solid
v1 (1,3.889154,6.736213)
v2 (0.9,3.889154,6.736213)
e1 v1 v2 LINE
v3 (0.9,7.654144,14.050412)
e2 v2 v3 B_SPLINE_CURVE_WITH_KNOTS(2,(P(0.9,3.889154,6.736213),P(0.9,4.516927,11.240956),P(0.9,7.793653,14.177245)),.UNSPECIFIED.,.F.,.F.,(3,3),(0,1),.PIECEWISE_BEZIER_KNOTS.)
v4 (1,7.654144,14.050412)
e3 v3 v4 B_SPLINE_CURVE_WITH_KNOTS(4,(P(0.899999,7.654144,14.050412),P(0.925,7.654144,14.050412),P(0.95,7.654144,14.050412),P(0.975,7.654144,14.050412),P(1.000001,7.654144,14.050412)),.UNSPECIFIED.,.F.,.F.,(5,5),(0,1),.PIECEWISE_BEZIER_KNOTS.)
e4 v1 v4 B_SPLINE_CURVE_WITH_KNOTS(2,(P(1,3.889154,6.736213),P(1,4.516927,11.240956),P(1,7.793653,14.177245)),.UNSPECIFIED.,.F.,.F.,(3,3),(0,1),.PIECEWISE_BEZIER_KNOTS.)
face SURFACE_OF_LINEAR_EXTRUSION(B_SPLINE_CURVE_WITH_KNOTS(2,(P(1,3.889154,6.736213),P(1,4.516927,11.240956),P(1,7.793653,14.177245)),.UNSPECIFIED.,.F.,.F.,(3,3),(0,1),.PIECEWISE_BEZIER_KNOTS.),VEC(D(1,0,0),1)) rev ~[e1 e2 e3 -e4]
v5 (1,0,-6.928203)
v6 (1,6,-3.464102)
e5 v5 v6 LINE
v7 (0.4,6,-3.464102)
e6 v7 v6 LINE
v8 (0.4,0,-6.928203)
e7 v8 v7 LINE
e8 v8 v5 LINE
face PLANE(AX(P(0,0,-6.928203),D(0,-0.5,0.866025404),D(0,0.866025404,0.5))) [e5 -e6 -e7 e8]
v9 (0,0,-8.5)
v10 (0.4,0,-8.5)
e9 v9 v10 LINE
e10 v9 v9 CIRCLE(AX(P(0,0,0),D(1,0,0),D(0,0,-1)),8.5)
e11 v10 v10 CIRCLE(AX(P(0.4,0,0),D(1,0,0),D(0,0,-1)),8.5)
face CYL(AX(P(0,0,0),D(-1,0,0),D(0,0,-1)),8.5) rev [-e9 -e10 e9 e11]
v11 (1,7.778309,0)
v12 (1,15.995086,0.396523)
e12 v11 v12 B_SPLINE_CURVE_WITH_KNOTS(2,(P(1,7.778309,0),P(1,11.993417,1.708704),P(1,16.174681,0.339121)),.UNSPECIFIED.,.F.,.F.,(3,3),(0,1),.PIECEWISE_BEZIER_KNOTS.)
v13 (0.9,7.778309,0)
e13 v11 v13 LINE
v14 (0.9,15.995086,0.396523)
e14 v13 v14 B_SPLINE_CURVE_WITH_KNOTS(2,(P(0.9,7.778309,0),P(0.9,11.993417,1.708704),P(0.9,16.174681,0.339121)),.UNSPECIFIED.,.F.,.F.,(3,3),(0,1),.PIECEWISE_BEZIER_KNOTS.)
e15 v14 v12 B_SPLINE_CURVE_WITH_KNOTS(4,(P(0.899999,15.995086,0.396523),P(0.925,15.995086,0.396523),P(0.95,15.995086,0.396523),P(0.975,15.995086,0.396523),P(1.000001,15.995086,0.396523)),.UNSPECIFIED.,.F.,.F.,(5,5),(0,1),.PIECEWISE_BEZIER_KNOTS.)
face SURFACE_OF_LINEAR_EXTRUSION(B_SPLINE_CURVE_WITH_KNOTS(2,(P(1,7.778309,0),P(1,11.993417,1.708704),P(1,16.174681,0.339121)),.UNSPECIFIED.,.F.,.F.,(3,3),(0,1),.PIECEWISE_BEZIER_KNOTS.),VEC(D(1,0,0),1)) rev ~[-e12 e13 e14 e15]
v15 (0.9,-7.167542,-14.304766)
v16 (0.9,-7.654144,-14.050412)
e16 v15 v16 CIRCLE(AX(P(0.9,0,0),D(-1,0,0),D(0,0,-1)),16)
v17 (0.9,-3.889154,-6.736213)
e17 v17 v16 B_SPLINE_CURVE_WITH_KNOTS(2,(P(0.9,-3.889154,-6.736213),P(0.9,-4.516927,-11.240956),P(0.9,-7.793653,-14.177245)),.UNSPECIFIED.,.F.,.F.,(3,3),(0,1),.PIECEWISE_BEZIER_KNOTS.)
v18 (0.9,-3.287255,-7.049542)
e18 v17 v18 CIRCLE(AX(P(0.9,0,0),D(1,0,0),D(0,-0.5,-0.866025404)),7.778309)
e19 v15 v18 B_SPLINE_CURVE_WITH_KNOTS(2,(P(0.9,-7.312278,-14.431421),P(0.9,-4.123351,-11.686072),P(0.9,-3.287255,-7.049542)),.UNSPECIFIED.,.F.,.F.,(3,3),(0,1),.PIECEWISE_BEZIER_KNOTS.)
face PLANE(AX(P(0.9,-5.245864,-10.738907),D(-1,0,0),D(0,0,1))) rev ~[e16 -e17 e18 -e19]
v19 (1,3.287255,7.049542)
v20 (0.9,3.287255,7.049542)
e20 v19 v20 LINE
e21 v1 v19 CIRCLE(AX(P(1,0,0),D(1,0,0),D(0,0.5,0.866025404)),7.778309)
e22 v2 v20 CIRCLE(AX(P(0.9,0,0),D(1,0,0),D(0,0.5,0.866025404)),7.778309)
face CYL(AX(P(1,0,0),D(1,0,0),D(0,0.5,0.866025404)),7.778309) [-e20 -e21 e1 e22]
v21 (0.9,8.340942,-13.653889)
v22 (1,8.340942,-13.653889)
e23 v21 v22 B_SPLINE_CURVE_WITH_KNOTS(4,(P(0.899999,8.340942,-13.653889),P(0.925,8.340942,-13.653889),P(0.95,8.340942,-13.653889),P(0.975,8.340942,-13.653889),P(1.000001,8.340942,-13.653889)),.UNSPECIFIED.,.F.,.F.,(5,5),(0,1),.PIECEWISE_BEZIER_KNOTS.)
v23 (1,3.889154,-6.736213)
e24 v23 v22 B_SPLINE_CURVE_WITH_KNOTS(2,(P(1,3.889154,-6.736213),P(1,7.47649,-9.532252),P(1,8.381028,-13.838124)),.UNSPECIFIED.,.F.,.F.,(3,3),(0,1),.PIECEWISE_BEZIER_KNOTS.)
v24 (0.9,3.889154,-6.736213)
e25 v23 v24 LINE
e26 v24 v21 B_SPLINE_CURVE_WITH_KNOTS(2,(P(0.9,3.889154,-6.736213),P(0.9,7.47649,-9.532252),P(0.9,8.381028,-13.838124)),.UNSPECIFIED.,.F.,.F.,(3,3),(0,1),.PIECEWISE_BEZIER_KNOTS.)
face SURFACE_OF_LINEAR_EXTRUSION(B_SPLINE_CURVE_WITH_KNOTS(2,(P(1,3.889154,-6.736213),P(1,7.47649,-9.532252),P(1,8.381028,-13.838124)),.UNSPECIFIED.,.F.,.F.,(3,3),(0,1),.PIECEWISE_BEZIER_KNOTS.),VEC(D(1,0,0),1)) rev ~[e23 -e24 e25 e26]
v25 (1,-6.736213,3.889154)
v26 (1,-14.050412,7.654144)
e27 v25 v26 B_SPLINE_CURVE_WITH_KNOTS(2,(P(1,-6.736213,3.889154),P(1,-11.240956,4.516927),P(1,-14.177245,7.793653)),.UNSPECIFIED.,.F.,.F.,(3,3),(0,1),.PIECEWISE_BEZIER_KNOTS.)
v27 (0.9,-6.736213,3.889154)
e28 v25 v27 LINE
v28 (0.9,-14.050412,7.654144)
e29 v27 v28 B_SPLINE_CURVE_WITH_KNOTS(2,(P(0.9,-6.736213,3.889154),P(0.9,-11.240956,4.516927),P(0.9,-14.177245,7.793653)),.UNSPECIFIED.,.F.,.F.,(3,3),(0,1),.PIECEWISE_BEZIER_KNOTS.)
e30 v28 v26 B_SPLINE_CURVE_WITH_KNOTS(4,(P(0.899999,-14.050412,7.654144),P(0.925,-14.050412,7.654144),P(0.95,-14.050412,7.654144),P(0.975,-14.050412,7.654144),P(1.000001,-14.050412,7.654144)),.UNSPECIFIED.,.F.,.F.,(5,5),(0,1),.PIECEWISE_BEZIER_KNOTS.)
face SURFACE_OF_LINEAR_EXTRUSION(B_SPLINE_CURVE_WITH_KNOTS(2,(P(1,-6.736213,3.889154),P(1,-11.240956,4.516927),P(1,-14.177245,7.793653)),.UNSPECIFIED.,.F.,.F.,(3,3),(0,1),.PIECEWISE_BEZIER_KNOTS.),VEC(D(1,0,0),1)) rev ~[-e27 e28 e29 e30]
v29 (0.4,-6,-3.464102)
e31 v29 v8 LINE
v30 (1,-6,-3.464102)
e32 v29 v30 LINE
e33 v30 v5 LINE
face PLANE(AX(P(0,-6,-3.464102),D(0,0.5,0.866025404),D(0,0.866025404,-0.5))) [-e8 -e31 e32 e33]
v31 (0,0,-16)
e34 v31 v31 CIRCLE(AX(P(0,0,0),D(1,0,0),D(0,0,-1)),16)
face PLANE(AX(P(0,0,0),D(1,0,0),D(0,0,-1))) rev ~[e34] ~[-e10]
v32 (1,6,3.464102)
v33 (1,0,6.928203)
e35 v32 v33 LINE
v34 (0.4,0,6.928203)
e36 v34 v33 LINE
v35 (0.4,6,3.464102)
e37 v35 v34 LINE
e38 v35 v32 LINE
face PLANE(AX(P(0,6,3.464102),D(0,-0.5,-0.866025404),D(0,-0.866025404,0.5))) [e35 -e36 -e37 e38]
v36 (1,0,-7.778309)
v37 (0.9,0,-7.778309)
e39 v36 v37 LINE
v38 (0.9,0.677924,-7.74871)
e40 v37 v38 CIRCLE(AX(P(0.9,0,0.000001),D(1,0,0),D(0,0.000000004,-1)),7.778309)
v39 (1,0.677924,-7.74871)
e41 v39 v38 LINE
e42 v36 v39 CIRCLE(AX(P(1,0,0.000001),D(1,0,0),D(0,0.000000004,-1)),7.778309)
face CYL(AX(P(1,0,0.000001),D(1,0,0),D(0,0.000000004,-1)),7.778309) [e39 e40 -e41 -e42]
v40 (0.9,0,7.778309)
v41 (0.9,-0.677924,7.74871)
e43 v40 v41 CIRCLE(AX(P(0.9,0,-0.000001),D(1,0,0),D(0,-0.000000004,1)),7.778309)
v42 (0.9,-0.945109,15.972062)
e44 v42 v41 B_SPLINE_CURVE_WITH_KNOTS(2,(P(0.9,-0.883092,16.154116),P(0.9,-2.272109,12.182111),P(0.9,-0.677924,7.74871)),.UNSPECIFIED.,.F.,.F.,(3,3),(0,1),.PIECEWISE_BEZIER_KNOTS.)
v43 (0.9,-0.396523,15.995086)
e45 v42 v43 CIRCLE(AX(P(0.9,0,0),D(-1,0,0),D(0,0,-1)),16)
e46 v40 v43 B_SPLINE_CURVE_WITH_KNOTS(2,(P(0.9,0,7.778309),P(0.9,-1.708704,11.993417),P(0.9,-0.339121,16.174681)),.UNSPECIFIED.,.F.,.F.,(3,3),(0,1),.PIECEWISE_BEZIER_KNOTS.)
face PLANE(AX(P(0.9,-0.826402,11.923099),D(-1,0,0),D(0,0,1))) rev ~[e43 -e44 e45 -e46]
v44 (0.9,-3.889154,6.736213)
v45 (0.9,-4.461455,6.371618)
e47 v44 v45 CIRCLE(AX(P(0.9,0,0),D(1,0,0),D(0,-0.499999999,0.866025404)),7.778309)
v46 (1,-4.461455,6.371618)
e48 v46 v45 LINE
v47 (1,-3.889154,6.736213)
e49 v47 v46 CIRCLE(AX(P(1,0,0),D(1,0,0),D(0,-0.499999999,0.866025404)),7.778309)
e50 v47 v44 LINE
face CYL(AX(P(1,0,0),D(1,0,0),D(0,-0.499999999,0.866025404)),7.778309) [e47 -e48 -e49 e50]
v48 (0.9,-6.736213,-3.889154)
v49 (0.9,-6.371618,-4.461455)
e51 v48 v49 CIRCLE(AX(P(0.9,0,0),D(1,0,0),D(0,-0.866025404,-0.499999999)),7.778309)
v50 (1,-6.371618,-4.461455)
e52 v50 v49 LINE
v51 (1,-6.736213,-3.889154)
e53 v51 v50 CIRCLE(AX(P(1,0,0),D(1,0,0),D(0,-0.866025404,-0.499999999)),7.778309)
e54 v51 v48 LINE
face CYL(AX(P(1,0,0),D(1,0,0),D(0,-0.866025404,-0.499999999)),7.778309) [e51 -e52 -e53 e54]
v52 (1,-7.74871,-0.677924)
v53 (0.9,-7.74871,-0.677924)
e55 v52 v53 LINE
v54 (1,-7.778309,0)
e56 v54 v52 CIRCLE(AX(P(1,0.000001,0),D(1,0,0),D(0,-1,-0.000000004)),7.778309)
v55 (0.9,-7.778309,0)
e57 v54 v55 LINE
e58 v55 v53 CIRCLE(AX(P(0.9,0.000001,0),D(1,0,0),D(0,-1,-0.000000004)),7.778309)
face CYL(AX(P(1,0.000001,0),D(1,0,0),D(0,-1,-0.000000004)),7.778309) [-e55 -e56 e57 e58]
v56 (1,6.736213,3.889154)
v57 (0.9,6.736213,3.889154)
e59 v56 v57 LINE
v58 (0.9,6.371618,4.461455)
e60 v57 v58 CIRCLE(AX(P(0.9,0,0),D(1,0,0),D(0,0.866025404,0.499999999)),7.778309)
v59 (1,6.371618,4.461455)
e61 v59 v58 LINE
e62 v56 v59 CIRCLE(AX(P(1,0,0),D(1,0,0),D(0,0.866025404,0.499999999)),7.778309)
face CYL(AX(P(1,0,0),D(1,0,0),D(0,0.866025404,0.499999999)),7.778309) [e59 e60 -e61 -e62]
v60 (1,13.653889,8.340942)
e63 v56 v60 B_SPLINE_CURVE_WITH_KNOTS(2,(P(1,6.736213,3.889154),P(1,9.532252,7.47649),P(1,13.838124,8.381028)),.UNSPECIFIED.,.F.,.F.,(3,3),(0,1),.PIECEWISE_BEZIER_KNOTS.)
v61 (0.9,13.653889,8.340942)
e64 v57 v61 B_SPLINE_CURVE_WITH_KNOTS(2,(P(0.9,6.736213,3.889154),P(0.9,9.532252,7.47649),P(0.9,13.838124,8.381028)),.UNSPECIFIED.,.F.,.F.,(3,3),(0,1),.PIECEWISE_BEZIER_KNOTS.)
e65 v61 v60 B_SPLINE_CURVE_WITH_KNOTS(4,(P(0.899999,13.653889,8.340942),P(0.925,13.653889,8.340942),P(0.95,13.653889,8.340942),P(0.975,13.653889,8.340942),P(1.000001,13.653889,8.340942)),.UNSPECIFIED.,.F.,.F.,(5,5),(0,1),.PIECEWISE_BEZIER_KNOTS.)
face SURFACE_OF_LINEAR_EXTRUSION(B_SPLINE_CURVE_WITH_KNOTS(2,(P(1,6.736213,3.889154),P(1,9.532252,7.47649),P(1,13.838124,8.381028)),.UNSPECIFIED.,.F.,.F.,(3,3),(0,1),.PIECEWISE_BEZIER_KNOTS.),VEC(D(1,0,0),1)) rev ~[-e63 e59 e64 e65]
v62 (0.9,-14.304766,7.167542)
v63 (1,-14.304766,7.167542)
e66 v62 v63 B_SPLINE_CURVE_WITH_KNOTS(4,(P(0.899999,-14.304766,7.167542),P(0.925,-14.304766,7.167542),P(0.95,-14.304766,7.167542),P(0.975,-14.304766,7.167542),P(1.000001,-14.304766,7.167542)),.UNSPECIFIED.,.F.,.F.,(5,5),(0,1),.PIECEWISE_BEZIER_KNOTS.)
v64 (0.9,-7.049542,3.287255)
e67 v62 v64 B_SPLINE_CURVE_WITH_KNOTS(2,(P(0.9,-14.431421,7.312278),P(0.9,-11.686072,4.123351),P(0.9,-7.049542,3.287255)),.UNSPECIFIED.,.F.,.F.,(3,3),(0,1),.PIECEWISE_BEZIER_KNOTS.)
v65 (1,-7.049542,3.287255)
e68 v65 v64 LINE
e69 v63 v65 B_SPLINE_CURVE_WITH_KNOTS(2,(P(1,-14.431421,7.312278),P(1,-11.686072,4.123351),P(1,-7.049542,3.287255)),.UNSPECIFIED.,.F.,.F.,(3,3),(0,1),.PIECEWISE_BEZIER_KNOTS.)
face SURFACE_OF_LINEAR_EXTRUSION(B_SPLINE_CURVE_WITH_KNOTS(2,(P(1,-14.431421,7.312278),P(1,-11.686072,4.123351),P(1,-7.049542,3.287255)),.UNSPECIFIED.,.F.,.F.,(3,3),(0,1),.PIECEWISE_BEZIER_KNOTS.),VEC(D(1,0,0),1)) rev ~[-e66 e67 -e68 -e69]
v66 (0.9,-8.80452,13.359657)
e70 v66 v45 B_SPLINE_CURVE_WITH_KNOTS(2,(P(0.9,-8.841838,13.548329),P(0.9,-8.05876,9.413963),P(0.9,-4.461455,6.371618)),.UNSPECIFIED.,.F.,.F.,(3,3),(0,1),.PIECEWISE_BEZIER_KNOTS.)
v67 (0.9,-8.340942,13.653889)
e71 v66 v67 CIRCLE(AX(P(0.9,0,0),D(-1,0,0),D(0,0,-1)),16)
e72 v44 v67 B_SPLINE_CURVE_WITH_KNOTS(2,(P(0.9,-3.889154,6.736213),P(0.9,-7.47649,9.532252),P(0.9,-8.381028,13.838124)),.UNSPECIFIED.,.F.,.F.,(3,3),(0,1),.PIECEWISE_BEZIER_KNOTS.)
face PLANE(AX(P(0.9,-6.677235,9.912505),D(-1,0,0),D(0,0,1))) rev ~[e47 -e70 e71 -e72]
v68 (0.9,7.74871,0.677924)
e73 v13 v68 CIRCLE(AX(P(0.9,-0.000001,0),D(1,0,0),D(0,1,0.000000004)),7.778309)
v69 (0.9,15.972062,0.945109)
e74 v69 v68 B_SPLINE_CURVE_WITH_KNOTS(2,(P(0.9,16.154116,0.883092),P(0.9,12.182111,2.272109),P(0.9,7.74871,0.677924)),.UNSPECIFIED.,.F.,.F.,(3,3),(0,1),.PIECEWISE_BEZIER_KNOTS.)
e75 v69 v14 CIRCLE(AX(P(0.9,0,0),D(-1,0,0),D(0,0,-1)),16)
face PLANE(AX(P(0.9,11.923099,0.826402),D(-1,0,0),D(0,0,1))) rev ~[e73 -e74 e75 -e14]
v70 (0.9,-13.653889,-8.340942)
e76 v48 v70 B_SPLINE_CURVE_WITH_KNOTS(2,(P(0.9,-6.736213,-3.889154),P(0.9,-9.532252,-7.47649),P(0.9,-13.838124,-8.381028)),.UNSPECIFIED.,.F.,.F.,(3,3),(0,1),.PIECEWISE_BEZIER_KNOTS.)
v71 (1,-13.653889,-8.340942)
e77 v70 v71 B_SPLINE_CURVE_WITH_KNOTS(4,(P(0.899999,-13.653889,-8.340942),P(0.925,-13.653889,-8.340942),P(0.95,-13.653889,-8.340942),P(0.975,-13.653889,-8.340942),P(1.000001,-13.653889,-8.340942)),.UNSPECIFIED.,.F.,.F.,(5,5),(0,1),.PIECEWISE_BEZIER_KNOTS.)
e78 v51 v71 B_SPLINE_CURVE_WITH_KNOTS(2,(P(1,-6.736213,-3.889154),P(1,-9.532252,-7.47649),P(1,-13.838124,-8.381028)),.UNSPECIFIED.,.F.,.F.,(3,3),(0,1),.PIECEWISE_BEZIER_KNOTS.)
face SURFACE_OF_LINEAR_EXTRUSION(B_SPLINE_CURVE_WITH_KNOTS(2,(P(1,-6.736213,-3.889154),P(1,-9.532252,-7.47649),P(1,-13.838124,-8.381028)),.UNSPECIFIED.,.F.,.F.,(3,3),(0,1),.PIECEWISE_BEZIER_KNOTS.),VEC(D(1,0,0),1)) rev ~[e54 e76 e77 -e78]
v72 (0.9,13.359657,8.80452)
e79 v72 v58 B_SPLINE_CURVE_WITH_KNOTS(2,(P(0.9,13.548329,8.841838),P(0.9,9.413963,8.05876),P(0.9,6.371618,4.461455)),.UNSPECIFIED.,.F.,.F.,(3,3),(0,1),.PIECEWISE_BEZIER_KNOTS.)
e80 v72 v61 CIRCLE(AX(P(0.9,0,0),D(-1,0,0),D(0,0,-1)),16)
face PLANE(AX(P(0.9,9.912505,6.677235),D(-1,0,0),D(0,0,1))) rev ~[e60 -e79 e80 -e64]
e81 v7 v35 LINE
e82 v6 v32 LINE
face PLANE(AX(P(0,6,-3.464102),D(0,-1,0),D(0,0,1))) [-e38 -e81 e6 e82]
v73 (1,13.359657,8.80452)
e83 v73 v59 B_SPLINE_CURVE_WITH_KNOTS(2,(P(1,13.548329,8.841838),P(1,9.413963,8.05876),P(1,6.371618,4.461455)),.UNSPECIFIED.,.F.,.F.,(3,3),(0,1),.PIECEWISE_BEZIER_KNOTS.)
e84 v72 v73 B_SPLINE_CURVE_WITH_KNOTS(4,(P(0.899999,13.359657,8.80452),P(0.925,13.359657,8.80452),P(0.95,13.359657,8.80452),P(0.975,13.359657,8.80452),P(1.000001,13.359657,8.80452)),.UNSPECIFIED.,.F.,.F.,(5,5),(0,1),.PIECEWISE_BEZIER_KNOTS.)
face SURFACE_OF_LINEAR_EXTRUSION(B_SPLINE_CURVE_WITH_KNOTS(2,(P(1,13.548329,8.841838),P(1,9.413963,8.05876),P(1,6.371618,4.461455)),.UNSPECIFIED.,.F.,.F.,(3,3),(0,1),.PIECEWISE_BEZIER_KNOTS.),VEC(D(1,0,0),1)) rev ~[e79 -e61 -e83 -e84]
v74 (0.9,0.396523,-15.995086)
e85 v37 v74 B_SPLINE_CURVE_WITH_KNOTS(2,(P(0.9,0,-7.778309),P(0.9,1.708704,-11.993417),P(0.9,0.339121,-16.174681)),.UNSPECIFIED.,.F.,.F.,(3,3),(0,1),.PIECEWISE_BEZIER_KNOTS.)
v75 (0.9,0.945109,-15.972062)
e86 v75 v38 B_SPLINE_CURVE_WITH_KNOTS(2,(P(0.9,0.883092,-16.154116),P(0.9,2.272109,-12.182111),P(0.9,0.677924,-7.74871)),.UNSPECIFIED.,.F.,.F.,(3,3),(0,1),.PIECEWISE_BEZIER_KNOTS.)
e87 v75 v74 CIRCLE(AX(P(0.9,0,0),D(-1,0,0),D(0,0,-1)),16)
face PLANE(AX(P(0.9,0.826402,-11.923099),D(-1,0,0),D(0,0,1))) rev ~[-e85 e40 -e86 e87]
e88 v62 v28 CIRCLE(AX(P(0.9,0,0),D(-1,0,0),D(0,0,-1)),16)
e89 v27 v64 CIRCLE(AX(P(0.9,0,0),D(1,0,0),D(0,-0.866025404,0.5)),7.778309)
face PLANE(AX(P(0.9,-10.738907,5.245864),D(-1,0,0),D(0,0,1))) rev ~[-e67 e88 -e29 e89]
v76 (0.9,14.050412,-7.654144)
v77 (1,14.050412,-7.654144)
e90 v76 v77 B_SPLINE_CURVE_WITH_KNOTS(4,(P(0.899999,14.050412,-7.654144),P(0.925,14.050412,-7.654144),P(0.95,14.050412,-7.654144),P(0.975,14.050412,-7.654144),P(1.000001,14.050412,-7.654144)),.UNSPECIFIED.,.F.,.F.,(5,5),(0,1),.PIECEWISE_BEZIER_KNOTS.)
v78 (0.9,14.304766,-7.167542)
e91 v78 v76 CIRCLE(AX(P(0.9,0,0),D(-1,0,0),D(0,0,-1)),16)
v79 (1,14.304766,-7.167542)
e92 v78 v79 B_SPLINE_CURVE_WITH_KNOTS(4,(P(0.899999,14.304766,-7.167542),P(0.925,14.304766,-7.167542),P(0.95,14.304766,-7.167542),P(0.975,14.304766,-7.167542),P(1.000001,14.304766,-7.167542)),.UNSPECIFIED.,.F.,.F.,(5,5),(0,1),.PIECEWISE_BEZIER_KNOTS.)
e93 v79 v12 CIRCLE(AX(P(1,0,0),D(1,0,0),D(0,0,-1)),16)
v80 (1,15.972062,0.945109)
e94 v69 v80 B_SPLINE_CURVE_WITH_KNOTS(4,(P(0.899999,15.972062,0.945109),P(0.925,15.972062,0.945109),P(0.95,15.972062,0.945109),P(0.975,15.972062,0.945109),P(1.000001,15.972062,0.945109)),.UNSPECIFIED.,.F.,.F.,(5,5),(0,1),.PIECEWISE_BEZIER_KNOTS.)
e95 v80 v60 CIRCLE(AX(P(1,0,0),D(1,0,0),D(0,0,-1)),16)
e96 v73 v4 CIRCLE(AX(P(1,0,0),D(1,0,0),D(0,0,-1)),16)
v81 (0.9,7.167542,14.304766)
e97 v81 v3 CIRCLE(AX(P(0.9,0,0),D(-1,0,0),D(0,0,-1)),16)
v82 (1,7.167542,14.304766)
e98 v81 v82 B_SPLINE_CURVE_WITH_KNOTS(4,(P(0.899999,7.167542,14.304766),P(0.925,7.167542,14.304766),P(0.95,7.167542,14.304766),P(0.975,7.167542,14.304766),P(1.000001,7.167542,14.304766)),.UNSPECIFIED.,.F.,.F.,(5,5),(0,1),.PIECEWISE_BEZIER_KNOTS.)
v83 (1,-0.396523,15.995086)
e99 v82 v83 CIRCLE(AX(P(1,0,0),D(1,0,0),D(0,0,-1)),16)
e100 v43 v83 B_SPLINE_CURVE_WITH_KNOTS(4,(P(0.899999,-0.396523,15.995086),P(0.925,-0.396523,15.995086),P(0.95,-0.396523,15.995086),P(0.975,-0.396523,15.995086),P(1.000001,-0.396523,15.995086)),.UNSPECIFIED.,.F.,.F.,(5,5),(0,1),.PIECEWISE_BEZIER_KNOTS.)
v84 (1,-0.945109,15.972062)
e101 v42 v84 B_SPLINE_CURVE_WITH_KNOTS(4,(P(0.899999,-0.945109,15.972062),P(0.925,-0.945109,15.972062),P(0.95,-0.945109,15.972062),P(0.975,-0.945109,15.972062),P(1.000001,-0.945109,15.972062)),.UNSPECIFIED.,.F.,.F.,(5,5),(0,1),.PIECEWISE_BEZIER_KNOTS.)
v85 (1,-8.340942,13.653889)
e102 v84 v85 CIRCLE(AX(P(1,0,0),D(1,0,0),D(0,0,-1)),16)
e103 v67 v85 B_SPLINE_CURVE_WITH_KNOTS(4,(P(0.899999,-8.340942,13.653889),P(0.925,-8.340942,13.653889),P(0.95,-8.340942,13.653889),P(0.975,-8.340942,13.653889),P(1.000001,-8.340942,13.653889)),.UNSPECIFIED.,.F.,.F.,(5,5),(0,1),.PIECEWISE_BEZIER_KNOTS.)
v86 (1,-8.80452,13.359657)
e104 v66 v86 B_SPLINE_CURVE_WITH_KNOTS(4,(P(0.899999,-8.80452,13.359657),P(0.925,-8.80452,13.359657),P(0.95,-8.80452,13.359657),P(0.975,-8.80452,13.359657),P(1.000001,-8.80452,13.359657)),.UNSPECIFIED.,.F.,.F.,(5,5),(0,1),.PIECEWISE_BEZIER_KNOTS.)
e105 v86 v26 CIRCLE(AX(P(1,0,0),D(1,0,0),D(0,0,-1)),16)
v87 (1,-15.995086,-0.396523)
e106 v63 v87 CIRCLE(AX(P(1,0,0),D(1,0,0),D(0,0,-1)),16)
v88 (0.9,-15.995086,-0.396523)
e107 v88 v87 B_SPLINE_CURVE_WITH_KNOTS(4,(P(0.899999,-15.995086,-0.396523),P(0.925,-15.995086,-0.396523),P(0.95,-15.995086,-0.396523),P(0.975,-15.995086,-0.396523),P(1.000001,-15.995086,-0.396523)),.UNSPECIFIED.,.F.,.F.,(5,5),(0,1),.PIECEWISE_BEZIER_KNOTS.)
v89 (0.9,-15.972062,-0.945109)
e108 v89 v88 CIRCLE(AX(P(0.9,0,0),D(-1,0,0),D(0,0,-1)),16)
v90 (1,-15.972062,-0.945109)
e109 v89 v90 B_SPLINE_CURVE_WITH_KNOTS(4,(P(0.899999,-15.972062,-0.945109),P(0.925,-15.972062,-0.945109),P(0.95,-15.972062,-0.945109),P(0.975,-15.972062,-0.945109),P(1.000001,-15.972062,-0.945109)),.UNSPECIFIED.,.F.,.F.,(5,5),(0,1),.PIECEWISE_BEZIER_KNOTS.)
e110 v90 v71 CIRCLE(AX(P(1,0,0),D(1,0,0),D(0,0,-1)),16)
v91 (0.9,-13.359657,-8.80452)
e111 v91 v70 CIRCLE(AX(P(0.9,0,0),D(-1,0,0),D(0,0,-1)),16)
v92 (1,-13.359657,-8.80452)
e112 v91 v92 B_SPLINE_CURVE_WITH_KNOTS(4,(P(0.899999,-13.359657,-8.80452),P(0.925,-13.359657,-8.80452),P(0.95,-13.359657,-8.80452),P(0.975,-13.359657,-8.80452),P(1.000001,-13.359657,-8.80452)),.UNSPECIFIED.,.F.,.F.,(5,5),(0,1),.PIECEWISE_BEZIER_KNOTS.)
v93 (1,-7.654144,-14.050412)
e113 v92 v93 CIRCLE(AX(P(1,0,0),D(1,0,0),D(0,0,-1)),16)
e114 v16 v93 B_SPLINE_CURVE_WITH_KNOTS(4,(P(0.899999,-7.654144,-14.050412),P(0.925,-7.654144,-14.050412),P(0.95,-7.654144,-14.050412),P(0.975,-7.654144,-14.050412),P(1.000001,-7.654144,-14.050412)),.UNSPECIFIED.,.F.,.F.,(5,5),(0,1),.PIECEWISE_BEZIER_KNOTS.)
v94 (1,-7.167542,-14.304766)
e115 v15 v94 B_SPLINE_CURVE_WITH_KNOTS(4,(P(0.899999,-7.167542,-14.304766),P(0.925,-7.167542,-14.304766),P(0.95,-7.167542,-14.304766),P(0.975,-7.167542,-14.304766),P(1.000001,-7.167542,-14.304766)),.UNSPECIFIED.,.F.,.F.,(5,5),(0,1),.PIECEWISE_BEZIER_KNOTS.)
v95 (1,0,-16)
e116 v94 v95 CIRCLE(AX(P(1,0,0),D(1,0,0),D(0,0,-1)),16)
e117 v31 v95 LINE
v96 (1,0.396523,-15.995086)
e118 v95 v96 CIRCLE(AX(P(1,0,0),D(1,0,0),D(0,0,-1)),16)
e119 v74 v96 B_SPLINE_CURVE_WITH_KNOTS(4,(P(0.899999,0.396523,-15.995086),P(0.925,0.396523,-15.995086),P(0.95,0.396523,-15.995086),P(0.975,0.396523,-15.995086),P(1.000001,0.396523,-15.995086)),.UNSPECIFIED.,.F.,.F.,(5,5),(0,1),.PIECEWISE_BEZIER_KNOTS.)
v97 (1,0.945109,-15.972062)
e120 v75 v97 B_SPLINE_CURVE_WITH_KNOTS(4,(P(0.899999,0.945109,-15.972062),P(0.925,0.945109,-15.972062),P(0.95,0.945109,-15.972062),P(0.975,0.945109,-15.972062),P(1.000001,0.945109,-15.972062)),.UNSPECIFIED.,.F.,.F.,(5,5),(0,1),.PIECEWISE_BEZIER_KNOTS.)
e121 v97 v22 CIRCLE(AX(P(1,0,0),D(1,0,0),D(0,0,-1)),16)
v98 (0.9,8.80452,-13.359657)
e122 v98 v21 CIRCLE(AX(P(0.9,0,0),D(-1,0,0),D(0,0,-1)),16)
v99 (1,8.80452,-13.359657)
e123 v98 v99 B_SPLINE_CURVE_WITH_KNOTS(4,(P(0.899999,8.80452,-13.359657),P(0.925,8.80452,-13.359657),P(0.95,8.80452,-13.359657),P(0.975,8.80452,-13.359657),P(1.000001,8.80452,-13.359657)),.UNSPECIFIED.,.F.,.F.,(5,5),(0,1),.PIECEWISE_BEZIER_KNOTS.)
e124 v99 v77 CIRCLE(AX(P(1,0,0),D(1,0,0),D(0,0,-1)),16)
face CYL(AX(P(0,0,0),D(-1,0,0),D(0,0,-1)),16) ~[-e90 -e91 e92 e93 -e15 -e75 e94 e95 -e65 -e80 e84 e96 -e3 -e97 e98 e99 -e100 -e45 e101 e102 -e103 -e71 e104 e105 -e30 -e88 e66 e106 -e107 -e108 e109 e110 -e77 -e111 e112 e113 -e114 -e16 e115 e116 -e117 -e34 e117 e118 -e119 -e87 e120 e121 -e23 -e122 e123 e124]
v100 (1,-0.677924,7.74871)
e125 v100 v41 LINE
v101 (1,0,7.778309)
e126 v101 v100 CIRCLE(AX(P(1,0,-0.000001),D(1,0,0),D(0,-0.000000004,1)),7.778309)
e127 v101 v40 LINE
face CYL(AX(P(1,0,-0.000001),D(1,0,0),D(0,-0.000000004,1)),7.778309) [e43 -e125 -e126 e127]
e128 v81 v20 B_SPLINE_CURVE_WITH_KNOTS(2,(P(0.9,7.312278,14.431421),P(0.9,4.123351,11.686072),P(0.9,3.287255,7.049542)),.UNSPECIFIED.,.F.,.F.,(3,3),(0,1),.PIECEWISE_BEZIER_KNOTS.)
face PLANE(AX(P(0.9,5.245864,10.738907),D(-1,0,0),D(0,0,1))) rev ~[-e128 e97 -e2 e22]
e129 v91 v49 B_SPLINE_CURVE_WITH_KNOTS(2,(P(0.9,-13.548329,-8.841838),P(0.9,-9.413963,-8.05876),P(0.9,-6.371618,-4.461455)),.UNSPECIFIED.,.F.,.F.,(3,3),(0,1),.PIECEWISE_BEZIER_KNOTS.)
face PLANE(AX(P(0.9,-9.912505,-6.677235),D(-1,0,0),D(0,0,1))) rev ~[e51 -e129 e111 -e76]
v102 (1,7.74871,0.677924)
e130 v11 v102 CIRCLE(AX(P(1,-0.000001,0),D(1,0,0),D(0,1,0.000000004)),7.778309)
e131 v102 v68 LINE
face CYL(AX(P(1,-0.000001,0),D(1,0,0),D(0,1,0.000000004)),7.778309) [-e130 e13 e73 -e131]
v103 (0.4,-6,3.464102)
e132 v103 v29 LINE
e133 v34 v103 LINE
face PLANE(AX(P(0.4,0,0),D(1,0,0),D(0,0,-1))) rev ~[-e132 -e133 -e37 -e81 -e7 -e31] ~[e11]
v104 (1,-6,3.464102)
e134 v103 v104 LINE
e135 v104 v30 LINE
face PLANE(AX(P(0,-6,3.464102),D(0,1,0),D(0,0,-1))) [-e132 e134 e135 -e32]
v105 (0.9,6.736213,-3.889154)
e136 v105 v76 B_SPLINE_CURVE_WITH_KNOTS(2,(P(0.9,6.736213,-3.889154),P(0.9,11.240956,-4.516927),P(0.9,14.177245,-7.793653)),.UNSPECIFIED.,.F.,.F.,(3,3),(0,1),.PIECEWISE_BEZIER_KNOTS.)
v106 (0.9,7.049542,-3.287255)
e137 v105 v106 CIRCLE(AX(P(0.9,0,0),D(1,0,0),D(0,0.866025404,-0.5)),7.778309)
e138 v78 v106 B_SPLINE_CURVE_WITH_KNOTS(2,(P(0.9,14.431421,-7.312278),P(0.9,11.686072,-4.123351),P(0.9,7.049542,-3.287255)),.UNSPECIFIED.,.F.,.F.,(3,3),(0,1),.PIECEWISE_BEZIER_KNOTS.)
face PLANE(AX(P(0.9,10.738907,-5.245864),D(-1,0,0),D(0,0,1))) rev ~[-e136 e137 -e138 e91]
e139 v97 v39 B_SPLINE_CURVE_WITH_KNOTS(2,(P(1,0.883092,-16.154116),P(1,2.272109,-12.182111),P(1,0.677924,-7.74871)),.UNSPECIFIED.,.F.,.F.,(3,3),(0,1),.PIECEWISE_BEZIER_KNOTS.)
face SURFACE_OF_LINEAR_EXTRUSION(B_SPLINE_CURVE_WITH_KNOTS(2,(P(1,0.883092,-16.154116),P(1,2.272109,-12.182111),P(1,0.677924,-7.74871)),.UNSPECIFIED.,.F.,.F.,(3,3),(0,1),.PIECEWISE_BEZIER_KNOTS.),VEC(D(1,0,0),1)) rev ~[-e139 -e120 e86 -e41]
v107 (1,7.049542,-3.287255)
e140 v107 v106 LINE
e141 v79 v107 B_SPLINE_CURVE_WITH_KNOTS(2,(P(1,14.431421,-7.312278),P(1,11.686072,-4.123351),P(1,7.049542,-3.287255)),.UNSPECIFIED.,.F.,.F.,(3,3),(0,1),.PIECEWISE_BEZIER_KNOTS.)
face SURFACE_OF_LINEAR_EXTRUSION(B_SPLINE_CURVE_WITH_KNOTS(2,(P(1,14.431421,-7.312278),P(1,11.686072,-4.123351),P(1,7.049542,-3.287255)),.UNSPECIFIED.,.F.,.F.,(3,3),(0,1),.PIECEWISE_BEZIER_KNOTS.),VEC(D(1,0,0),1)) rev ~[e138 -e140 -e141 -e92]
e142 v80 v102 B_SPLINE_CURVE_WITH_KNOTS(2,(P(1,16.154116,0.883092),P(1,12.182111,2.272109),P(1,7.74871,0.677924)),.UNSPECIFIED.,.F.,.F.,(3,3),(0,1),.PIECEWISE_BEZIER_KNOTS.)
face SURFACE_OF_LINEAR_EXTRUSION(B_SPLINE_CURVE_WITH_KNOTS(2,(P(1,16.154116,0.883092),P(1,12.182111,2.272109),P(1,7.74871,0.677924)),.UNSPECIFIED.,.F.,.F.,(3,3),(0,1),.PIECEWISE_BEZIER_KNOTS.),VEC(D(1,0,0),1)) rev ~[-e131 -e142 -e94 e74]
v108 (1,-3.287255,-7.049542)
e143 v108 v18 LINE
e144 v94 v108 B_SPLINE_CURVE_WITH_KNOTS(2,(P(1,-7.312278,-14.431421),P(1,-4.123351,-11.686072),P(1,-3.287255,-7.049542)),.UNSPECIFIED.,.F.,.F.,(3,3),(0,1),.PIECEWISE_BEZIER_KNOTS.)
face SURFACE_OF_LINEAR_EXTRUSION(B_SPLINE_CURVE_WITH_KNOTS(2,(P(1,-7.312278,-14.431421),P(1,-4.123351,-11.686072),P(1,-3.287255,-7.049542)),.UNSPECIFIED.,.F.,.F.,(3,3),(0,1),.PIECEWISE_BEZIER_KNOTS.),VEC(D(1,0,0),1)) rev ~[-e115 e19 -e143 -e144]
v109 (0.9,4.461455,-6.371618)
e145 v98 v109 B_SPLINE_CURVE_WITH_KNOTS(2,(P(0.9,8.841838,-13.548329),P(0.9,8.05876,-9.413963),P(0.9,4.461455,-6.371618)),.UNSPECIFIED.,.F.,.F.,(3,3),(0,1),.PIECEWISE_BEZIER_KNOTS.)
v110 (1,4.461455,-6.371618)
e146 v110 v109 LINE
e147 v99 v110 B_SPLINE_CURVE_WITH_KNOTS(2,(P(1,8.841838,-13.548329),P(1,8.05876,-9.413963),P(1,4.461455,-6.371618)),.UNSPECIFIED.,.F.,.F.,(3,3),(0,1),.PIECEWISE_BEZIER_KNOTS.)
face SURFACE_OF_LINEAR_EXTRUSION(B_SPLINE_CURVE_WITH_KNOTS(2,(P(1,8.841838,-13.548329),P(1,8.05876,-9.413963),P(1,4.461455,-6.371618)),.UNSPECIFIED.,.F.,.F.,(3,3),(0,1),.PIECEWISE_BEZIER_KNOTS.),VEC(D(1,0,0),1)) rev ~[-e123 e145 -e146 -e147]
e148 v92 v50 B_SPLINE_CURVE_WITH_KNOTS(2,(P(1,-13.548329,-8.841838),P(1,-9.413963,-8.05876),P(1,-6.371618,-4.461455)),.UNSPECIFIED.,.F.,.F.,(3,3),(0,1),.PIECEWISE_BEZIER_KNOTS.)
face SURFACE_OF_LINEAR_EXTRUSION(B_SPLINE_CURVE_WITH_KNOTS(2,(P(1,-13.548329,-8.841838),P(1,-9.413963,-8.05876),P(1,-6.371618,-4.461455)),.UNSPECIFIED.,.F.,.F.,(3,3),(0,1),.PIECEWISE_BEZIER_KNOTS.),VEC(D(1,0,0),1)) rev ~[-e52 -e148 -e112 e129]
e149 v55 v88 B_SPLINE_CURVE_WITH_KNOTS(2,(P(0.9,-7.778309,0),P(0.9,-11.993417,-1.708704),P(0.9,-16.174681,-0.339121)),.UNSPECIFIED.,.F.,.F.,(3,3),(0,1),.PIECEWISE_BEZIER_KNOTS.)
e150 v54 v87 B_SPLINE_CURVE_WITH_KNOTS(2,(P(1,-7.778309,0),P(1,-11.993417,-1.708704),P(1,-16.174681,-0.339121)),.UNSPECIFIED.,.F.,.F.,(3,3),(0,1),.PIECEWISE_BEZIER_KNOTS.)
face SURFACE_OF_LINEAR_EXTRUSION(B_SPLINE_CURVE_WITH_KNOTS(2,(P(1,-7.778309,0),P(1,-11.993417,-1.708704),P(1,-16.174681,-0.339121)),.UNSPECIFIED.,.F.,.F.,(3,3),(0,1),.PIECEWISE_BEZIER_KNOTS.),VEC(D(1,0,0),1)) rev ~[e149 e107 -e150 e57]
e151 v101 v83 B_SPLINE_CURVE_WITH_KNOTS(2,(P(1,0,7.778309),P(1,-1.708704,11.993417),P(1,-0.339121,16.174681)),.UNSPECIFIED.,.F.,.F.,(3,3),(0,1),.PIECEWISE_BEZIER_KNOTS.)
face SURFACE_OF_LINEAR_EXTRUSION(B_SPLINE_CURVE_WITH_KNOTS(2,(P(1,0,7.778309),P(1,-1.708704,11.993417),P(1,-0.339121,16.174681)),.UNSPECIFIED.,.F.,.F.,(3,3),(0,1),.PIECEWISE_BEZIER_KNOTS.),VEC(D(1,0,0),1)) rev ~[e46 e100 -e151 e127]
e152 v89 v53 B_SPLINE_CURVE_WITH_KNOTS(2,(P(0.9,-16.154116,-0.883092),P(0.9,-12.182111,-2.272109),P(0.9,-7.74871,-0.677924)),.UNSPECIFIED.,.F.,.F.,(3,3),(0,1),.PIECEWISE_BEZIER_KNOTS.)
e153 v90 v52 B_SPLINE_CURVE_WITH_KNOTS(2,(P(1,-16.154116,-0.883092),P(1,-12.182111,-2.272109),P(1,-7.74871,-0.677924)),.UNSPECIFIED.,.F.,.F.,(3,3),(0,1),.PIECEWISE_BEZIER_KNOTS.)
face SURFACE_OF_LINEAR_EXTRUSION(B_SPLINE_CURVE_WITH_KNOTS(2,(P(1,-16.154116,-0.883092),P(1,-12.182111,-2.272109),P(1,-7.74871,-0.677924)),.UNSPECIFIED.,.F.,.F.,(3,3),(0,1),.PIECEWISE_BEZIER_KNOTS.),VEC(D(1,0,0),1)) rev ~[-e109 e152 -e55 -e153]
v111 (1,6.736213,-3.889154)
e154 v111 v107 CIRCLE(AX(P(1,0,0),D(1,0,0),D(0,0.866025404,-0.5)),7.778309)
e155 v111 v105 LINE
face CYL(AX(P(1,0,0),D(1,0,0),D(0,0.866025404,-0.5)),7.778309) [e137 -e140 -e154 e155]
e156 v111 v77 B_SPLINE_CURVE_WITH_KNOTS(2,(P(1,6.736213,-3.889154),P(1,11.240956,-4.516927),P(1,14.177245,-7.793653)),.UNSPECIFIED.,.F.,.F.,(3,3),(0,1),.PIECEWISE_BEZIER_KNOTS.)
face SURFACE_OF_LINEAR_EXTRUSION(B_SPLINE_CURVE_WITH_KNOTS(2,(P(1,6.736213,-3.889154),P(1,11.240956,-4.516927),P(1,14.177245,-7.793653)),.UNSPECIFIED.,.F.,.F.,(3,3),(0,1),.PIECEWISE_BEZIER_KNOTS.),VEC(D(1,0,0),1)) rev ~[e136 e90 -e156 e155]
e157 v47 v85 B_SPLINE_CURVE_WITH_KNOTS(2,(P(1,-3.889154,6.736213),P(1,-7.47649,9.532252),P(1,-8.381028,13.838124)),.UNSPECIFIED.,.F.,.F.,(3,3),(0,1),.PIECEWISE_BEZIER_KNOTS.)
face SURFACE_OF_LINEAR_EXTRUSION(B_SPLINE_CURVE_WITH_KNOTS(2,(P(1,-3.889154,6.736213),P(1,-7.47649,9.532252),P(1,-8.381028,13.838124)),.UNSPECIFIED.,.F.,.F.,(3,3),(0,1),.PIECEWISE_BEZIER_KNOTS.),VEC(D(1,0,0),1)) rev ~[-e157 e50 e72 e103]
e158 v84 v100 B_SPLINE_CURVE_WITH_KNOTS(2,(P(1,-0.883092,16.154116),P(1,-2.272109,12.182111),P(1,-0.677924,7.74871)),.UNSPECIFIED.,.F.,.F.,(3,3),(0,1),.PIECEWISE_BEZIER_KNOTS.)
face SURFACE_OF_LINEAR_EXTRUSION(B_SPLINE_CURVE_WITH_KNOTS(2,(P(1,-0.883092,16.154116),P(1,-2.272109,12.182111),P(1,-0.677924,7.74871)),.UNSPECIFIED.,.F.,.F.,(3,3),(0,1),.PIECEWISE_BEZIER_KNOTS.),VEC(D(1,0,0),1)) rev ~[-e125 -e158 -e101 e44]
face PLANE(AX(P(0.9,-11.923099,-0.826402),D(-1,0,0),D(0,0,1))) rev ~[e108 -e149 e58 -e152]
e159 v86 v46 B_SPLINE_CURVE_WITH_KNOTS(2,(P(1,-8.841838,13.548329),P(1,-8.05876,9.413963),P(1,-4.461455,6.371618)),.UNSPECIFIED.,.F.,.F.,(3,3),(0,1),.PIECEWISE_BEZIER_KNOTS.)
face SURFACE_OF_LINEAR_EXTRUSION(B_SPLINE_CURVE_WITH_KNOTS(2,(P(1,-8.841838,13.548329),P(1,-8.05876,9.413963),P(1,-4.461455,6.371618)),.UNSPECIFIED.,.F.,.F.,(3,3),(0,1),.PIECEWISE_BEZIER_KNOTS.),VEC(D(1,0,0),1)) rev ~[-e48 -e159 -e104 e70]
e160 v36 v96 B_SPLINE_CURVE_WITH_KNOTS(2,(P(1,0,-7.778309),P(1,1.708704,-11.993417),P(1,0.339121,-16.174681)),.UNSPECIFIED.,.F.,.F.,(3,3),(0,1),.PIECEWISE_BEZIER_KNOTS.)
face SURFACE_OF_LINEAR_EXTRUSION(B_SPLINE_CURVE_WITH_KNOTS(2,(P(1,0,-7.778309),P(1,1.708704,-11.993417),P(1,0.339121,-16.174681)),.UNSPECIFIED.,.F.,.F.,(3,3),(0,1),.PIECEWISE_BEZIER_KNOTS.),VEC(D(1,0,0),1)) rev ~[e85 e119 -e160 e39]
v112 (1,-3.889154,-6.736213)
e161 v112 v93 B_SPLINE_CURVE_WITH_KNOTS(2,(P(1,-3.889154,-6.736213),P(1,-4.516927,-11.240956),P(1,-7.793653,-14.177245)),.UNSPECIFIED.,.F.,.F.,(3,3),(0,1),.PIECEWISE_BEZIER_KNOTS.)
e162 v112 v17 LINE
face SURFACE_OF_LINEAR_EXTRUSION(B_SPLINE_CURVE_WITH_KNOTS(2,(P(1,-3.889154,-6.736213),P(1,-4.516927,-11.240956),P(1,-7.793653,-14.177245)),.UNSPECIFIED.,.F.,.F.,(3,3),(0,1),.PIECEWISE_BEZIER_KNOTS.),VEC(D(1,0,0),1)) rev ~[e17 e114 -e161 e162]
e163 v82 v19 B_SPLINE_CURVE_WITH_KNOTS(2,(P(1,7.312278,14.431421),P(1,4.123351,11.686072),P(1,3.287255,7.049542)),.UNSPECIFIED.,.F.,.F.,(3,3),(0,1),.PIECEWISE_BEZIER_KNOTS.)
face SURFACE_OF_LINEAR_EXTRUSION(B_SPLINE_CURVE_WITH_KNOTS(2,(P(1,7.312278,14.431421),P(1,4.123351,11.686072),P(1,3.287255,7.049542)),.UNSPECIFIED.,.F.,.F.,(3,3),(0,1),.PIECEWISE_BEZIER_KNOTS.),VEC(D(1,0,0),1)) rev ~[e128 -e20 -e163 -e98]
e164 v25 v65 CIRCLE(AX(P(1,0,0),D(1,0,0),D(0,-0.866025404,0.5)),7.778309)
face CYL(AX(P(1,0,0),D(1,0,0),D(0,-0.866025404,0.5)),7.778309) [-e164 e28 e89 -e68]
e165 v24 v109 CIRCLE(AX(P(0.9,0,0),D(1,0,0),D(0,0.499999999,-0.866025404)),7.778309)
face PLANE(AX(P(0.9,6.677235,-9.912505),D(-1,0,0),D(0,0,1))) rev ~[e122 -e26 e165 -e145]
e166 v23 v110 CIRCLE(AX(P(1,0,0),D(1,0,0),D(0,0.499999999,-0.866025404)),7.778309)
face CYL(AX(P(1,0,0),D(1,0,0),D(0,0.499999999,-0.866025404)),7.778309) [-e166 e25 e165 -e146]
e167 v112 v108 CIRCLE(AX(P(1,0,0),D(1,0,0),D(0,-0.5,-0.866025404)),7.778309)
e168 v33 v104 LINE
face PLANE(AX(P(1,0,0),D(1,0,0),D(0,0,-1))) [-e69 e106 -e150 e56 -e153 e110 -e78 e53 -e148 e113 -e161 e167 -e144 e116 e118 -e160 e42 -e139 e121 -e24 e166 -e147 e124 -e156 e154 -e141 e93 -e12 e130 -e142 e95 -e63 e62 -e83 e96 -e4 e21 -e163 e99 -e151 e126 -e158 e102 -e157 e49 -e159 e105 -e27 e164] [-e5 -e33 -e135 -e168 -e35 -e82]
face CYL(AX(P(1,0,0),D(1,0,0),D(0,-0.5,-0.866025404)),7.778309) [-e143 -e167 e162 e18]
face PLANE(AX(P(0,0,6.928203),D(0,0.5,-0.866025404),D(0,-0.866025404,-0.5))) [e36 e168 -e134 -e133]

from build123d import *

# Parameters (mm, degrees)
SKETCH1_R           = 16
BOSS_EXTRUDE1_DEPTH = 1
SKETCH1_3_R         = 8.5
CUT_EXTRUDE1_DEPTH  = 0.4
CUT_EXTRUDE2_DEPTH  = 0.1


with BuildPart() as part:
    # Sketch1 → Boss-Extrude1 (new body)
    with BuildSketch(Plane(origin=(0, 0, 0), x_dir=(0, 0, -1), z_dir=(1, 0, 0))):
        Circle(SKETCH1_R)
        Polygon((6.92820323, 0), (3.464101615, -6), (-3.464101615, -6), (-6.92820323, 0), (-3.464101615, 6), (3.464101615, 6), align=None, mode=Mode.SUBTRACT)
    extrude(amount=BOSS_EXTRUDE1_DEPTH)

    # Sketch1<3> → Cut-Extrude1 (cut)
    with BuildSketch(Plane(origin=(0, 0, 0), x_dir=(0, 0, -1), z_dir=(1, 0, 0))):
        Circle(SKETCH1_3_R)
        Polygon((3.464101615, 6), (6.92820323, 0), (3.464101615, -6), (-3.464101615, -6), (-6.92820323, 0), (-3.464101615, 6), align=None, mode=Mode.SUBTRACT)
    extrude(amount=CUT_EXTRUDE1_DEPTH, mode=Mode.SUBTRACT)

    # Sketch2 → Cut-Extrude2 (cut)
    with BuildSketch(Plane(origin=(1, 0, 0), x_dir=(0, 0, -1), z_dir=(1, 0, 0))):
        with BuildLine():
            ThreePointArc((0, 7.778308753), (-0.339285063, 7.770905526), (-0.677924277, 7.74870994))
            add(Edge.make_bspline(
                [(-0.88309199, 16.154115956), (-2.272109381, 12.182110552), (-0.677924277, 7.74870994)],
                knots=[0, 0, 0, 1, 1, 1], degree=2))
            ThreePointArc((-0.88309199, 16.154115956), (-0.611192857, 16.166686645), (-0.33912072, 16.174681169))
            add(Edge.make_bspline(
                [(0, 7.778308753), (-1.708704101, 11.993417261), (-0.33912072, 16.174681169)],
                knots=[0, 0, 0, 1, 1, 1], degree=2))
        make_face()
        with BuildLine():
            ThreePointArc((3.889154376, 6.736212978), (3.59162328, 6.899444127), (3.287255324, 7.049541793))
            add(Edge.make_bspline(
                [(7.312277881, 14.431420789), (4.123350831, 11.6860719), (3.287255324, 7.049541793)],
                knots=[0, 0, 0, 1, 1, 1], degree=2))
            ThreePointArc((7.312277881, 14.431420789), (7.554034782, 14.306357758), (7.793653427, 14.177245151))
            add(Edge.make_bspline(
                [(3.889154376, 6.736212978), (4.516927471, 11.240956077), (7.793653427, 14.177245151)],
                knots=[0, 0, 0, 1, 1, 1], degree=2))
        make_face()
        with BuildLine():
            ThreePointArc((6.736212978, 3.889154376), (6.560159065, 4.179282246), (6.371617516, 4.461454615))
            add(Edge.make_bspline(
                [(13.548328799, 8.841838075), (9.413962519, 8.05875972), (6.371617516, 4.461454615)],
                knots=[0, 0, 0, 1, 1, 1], degree=2))
            ThreePointArc((13.548328799, 8.841838075), (13.695164901, 8.612651864), (13.838124431, 8.381027743))
            add(Edge.make_bspline(
                [(6.736212978, 3.889154376), (9.532251976, 7.47648979), (13.838124431, 8.381027743)],
                knots=[0, 0, 0, 1, 1, 1], degree=2))
        make_face()
        with BuildLine():
            ThreePointArc((7.778308753, 0), (7.770905526, 0.339285063), (7.74870994, 0.677924277))
            add(Edge.make_bspline(
                [(16.154115956, 0.88309199), (12.182110552, 2.272109381), (7.74870994, 0.677924277)],
                knots=[0, 0, 0, 1, 1, 1], degree=2))
            ThreePointArc((16.154115956, 0.88309199), (16.166686645, 0.611192857), (16.174681169, 0.33912072))
            add(Edge.make_bspline(
                [(7.778308753, 0), (11.993417261, 1.708704101), (16.174681169, 0.33912072)],
                knots=[0, 0, 0, 1, 1, 1], degree=2))
        make_face()
        with BuildLine():
            ThreePointArc((6.736212978, -3.889154376), (6.899444127, -3.59162328), (7.049541793, -3.287255324))
            add(Edge.make_bspline(
                [(14.431420789, -7.312277881), (11.6860719, -4.123350831), (7.049541793, -3.287255324)],
                knots=[0, 0, 0, 1, 1, 1], degree=2))
            ThreePointArc((14.431420789, -7.312277881), (14.306357758, -7.554034782), (14.177245151, -7.793653427))
            add(Edge.make_bspline(
                [(6.736212978, -3.889154376), (11.240956077, -4.516927471), (14.177245151, -7.793653427)],
                knots=[0, 0, 0, 1, 1, 1], degree=2))
        make_face()
        with BuildLine():
            ThreePointArc((3.889154376, -6.736212978), (4.179282246, -6.560159065), (4.461454615, -6.371617516))
            add(Edge.make_bspline(
                [(8.841838075, -13.548328799), (8.05875972, -9.413962519), (4.461454615, -6.371617516)],
                knots=[0, 0, 0, 1, 1, 1], degree=2))
            ThreePointArc((8.841838075, -13.548328799), (8.612651864, -13.695164901), (8.381027743, -13.838124431))
            add(Edge.make_bspline(
                [(3.889154376, -6.736212978), (7.47648979, -9.532251976), (8.381027743, -13.838124431)],
                knots=[0, 0, 0, 1, 1, 1], degree=2))
        make_face()
        with BuildLine():
            ThreePointArc((0, -7.778308753), (0.339285063, -7.770905526), (0.677924277, -7.74870994))
            add(Edge.make_bspline(
                [(0.88309199, -16.154115956), (2.272109381, -12.182110552), (0.677924277, -7.74870994)],
                knots=[0, 0, 0, 1, 1, 1], degree=2))
            ThreePointArc((0.88309199, -16.154115956), (0.611192857, -16.166686645), (0.33912072, -16.174681169))
            add(Edge.make_bspline(
                [(0, -7.778308753), (1.708704101, -11.993417261), (0.33912072, -16.174681169)],
                knots=[0, 0, 0, 1, 1, 1], degree=2))
        make_face()
        with BuildLine():
            ThreePointArc((-3.889154376, -6.736212978), (-3.59162328, -6.899444127), (-3.287255324, -7.049541793))
            add(Edge.make_bspline(
                [(-7.312277881, -14.431420789), (-4.123350831, -11.6860719), (-3.287255324, -7.049541793)],
                knots=[0, 0, 0, 1, 1, 1], degree=2))
            ThreePointArc((-7.312277881, -14.431420789), (-7.554034782, -14.306357758), (-7.793653427, -14.177245151))
            add(Edge.make_bspline(
                [(-3.889154376, -6.736212978), (-4.516927471, -11.240956077), (-7.793653427, -14.177245151)],
                knots=[0, 0, 0, 1, 1, 1], degree=2))
        make_face()
        with BuildLine():
            ThreePointArc((-6.736212978, -3.889154376), (-6.560159065, -4.179282246), (-6.371617516, -4.461454615))
            add(Edge.make_bspline(
                [(-13.548328799, -8.841838075), (-9.413962519, -8.05875972), (-6.371617516, -4.461454615)],
                knots=[0, 0, 0, 1, 1, 1], degree=2))
            ThreePointArc((-13.548328799, -8.841838075), (-13.695164901, -8.612651864), (-13.838124431, -8.381027743))
            add(Edge.make_bspline(
                [(-6.736212978, -3.889154376), (-9.532251976, -7.47648979), (-13.838124431, -8.381027743)],
                knots=[0, 0, 0, 1, 1, 1], degree=2))
        make_face()
        with BuildLine():
            ThreePointArc((-7.778308753, 0), (-7.770905526, -0.339285063), (-7.74870994, -0.677924277))
            add(Edge.make_bspline(
                [(-16.154115956, -0.88309199), (-12.182110552, -2.272109381), (-7.74870994, -0.677924277)],
                knots=[0, 0, 0, 1, 1, 1], degree=2))
            ThreePointArc((-16.154115956, -0.88309199), (-16.166686645, -0.611192857), (-16.174681169, -0.33912072))
            add(Edge.make_bspline(
                [(-7.778308753, 0), (-11.993417261, -1.708704101), (-16.174681169, -0.33912072)],
                knots=[0, 0, 0, 1, 1, 1], degree=2))
        make_face()
        with BuildLine():
            ThreePointArc((-6.736212978, 3.889154376), (-6.899444127, 3.59162328), (-7.049541793, 3.287255324))
            add(Edge.make_bspline(
                [(-14.431420789, 7.312277881), (-11.6860719, 4.123350831), (-7.049541793, 3.287255324)],
                knots=[0, 0, 0, 1, 1, 1], degree=2))
            ThreePointArc((-14.431420789, 7.312277881), (-14.306357758, 7.554034782), (-14.177245151, 7.793653427))
            add(Edge.make_bspline(
                [(-6.736212978, 3.889154376), (-11.240956077, 4.516927471), (-14.177245151, 7.793653427)],
                knots=[0, 0, 0, 1, 1, 1], degree=2))
        make_face()
        with BuildLine():
            ThreePointArc((-3.889154376, 6.736212978), (-4.179282246, 6.560159065), (-4.461454615, 6.371617516))
            add(Edge.make_bspline(
                [(-8.841838075, 13.548328799), (-8.05875972, 9.413962519), (-4.461454615, 6.371617516)],
                knots=[0, 0, 0, 1, 1, 1], degree=2))
            ThreePointArc((-8.841838075, 13.548328799), (-8.612651864, 13.695164901), (-8.381027743, 13.838124431))
            add(Edge.make_bspline(
                [(-3.889154376, 6.736212978), (-7.47648979, 9.532251976), (-8.381027743, 13.838124431)],
                knots=[0, 0, 0, 1, 1, 1], degree=2))
        make_face()
    extrude(amount=-CUT_EXTRUDE2_DEPTH, mode=Mode.SUBTRACT)


solid = part.part
